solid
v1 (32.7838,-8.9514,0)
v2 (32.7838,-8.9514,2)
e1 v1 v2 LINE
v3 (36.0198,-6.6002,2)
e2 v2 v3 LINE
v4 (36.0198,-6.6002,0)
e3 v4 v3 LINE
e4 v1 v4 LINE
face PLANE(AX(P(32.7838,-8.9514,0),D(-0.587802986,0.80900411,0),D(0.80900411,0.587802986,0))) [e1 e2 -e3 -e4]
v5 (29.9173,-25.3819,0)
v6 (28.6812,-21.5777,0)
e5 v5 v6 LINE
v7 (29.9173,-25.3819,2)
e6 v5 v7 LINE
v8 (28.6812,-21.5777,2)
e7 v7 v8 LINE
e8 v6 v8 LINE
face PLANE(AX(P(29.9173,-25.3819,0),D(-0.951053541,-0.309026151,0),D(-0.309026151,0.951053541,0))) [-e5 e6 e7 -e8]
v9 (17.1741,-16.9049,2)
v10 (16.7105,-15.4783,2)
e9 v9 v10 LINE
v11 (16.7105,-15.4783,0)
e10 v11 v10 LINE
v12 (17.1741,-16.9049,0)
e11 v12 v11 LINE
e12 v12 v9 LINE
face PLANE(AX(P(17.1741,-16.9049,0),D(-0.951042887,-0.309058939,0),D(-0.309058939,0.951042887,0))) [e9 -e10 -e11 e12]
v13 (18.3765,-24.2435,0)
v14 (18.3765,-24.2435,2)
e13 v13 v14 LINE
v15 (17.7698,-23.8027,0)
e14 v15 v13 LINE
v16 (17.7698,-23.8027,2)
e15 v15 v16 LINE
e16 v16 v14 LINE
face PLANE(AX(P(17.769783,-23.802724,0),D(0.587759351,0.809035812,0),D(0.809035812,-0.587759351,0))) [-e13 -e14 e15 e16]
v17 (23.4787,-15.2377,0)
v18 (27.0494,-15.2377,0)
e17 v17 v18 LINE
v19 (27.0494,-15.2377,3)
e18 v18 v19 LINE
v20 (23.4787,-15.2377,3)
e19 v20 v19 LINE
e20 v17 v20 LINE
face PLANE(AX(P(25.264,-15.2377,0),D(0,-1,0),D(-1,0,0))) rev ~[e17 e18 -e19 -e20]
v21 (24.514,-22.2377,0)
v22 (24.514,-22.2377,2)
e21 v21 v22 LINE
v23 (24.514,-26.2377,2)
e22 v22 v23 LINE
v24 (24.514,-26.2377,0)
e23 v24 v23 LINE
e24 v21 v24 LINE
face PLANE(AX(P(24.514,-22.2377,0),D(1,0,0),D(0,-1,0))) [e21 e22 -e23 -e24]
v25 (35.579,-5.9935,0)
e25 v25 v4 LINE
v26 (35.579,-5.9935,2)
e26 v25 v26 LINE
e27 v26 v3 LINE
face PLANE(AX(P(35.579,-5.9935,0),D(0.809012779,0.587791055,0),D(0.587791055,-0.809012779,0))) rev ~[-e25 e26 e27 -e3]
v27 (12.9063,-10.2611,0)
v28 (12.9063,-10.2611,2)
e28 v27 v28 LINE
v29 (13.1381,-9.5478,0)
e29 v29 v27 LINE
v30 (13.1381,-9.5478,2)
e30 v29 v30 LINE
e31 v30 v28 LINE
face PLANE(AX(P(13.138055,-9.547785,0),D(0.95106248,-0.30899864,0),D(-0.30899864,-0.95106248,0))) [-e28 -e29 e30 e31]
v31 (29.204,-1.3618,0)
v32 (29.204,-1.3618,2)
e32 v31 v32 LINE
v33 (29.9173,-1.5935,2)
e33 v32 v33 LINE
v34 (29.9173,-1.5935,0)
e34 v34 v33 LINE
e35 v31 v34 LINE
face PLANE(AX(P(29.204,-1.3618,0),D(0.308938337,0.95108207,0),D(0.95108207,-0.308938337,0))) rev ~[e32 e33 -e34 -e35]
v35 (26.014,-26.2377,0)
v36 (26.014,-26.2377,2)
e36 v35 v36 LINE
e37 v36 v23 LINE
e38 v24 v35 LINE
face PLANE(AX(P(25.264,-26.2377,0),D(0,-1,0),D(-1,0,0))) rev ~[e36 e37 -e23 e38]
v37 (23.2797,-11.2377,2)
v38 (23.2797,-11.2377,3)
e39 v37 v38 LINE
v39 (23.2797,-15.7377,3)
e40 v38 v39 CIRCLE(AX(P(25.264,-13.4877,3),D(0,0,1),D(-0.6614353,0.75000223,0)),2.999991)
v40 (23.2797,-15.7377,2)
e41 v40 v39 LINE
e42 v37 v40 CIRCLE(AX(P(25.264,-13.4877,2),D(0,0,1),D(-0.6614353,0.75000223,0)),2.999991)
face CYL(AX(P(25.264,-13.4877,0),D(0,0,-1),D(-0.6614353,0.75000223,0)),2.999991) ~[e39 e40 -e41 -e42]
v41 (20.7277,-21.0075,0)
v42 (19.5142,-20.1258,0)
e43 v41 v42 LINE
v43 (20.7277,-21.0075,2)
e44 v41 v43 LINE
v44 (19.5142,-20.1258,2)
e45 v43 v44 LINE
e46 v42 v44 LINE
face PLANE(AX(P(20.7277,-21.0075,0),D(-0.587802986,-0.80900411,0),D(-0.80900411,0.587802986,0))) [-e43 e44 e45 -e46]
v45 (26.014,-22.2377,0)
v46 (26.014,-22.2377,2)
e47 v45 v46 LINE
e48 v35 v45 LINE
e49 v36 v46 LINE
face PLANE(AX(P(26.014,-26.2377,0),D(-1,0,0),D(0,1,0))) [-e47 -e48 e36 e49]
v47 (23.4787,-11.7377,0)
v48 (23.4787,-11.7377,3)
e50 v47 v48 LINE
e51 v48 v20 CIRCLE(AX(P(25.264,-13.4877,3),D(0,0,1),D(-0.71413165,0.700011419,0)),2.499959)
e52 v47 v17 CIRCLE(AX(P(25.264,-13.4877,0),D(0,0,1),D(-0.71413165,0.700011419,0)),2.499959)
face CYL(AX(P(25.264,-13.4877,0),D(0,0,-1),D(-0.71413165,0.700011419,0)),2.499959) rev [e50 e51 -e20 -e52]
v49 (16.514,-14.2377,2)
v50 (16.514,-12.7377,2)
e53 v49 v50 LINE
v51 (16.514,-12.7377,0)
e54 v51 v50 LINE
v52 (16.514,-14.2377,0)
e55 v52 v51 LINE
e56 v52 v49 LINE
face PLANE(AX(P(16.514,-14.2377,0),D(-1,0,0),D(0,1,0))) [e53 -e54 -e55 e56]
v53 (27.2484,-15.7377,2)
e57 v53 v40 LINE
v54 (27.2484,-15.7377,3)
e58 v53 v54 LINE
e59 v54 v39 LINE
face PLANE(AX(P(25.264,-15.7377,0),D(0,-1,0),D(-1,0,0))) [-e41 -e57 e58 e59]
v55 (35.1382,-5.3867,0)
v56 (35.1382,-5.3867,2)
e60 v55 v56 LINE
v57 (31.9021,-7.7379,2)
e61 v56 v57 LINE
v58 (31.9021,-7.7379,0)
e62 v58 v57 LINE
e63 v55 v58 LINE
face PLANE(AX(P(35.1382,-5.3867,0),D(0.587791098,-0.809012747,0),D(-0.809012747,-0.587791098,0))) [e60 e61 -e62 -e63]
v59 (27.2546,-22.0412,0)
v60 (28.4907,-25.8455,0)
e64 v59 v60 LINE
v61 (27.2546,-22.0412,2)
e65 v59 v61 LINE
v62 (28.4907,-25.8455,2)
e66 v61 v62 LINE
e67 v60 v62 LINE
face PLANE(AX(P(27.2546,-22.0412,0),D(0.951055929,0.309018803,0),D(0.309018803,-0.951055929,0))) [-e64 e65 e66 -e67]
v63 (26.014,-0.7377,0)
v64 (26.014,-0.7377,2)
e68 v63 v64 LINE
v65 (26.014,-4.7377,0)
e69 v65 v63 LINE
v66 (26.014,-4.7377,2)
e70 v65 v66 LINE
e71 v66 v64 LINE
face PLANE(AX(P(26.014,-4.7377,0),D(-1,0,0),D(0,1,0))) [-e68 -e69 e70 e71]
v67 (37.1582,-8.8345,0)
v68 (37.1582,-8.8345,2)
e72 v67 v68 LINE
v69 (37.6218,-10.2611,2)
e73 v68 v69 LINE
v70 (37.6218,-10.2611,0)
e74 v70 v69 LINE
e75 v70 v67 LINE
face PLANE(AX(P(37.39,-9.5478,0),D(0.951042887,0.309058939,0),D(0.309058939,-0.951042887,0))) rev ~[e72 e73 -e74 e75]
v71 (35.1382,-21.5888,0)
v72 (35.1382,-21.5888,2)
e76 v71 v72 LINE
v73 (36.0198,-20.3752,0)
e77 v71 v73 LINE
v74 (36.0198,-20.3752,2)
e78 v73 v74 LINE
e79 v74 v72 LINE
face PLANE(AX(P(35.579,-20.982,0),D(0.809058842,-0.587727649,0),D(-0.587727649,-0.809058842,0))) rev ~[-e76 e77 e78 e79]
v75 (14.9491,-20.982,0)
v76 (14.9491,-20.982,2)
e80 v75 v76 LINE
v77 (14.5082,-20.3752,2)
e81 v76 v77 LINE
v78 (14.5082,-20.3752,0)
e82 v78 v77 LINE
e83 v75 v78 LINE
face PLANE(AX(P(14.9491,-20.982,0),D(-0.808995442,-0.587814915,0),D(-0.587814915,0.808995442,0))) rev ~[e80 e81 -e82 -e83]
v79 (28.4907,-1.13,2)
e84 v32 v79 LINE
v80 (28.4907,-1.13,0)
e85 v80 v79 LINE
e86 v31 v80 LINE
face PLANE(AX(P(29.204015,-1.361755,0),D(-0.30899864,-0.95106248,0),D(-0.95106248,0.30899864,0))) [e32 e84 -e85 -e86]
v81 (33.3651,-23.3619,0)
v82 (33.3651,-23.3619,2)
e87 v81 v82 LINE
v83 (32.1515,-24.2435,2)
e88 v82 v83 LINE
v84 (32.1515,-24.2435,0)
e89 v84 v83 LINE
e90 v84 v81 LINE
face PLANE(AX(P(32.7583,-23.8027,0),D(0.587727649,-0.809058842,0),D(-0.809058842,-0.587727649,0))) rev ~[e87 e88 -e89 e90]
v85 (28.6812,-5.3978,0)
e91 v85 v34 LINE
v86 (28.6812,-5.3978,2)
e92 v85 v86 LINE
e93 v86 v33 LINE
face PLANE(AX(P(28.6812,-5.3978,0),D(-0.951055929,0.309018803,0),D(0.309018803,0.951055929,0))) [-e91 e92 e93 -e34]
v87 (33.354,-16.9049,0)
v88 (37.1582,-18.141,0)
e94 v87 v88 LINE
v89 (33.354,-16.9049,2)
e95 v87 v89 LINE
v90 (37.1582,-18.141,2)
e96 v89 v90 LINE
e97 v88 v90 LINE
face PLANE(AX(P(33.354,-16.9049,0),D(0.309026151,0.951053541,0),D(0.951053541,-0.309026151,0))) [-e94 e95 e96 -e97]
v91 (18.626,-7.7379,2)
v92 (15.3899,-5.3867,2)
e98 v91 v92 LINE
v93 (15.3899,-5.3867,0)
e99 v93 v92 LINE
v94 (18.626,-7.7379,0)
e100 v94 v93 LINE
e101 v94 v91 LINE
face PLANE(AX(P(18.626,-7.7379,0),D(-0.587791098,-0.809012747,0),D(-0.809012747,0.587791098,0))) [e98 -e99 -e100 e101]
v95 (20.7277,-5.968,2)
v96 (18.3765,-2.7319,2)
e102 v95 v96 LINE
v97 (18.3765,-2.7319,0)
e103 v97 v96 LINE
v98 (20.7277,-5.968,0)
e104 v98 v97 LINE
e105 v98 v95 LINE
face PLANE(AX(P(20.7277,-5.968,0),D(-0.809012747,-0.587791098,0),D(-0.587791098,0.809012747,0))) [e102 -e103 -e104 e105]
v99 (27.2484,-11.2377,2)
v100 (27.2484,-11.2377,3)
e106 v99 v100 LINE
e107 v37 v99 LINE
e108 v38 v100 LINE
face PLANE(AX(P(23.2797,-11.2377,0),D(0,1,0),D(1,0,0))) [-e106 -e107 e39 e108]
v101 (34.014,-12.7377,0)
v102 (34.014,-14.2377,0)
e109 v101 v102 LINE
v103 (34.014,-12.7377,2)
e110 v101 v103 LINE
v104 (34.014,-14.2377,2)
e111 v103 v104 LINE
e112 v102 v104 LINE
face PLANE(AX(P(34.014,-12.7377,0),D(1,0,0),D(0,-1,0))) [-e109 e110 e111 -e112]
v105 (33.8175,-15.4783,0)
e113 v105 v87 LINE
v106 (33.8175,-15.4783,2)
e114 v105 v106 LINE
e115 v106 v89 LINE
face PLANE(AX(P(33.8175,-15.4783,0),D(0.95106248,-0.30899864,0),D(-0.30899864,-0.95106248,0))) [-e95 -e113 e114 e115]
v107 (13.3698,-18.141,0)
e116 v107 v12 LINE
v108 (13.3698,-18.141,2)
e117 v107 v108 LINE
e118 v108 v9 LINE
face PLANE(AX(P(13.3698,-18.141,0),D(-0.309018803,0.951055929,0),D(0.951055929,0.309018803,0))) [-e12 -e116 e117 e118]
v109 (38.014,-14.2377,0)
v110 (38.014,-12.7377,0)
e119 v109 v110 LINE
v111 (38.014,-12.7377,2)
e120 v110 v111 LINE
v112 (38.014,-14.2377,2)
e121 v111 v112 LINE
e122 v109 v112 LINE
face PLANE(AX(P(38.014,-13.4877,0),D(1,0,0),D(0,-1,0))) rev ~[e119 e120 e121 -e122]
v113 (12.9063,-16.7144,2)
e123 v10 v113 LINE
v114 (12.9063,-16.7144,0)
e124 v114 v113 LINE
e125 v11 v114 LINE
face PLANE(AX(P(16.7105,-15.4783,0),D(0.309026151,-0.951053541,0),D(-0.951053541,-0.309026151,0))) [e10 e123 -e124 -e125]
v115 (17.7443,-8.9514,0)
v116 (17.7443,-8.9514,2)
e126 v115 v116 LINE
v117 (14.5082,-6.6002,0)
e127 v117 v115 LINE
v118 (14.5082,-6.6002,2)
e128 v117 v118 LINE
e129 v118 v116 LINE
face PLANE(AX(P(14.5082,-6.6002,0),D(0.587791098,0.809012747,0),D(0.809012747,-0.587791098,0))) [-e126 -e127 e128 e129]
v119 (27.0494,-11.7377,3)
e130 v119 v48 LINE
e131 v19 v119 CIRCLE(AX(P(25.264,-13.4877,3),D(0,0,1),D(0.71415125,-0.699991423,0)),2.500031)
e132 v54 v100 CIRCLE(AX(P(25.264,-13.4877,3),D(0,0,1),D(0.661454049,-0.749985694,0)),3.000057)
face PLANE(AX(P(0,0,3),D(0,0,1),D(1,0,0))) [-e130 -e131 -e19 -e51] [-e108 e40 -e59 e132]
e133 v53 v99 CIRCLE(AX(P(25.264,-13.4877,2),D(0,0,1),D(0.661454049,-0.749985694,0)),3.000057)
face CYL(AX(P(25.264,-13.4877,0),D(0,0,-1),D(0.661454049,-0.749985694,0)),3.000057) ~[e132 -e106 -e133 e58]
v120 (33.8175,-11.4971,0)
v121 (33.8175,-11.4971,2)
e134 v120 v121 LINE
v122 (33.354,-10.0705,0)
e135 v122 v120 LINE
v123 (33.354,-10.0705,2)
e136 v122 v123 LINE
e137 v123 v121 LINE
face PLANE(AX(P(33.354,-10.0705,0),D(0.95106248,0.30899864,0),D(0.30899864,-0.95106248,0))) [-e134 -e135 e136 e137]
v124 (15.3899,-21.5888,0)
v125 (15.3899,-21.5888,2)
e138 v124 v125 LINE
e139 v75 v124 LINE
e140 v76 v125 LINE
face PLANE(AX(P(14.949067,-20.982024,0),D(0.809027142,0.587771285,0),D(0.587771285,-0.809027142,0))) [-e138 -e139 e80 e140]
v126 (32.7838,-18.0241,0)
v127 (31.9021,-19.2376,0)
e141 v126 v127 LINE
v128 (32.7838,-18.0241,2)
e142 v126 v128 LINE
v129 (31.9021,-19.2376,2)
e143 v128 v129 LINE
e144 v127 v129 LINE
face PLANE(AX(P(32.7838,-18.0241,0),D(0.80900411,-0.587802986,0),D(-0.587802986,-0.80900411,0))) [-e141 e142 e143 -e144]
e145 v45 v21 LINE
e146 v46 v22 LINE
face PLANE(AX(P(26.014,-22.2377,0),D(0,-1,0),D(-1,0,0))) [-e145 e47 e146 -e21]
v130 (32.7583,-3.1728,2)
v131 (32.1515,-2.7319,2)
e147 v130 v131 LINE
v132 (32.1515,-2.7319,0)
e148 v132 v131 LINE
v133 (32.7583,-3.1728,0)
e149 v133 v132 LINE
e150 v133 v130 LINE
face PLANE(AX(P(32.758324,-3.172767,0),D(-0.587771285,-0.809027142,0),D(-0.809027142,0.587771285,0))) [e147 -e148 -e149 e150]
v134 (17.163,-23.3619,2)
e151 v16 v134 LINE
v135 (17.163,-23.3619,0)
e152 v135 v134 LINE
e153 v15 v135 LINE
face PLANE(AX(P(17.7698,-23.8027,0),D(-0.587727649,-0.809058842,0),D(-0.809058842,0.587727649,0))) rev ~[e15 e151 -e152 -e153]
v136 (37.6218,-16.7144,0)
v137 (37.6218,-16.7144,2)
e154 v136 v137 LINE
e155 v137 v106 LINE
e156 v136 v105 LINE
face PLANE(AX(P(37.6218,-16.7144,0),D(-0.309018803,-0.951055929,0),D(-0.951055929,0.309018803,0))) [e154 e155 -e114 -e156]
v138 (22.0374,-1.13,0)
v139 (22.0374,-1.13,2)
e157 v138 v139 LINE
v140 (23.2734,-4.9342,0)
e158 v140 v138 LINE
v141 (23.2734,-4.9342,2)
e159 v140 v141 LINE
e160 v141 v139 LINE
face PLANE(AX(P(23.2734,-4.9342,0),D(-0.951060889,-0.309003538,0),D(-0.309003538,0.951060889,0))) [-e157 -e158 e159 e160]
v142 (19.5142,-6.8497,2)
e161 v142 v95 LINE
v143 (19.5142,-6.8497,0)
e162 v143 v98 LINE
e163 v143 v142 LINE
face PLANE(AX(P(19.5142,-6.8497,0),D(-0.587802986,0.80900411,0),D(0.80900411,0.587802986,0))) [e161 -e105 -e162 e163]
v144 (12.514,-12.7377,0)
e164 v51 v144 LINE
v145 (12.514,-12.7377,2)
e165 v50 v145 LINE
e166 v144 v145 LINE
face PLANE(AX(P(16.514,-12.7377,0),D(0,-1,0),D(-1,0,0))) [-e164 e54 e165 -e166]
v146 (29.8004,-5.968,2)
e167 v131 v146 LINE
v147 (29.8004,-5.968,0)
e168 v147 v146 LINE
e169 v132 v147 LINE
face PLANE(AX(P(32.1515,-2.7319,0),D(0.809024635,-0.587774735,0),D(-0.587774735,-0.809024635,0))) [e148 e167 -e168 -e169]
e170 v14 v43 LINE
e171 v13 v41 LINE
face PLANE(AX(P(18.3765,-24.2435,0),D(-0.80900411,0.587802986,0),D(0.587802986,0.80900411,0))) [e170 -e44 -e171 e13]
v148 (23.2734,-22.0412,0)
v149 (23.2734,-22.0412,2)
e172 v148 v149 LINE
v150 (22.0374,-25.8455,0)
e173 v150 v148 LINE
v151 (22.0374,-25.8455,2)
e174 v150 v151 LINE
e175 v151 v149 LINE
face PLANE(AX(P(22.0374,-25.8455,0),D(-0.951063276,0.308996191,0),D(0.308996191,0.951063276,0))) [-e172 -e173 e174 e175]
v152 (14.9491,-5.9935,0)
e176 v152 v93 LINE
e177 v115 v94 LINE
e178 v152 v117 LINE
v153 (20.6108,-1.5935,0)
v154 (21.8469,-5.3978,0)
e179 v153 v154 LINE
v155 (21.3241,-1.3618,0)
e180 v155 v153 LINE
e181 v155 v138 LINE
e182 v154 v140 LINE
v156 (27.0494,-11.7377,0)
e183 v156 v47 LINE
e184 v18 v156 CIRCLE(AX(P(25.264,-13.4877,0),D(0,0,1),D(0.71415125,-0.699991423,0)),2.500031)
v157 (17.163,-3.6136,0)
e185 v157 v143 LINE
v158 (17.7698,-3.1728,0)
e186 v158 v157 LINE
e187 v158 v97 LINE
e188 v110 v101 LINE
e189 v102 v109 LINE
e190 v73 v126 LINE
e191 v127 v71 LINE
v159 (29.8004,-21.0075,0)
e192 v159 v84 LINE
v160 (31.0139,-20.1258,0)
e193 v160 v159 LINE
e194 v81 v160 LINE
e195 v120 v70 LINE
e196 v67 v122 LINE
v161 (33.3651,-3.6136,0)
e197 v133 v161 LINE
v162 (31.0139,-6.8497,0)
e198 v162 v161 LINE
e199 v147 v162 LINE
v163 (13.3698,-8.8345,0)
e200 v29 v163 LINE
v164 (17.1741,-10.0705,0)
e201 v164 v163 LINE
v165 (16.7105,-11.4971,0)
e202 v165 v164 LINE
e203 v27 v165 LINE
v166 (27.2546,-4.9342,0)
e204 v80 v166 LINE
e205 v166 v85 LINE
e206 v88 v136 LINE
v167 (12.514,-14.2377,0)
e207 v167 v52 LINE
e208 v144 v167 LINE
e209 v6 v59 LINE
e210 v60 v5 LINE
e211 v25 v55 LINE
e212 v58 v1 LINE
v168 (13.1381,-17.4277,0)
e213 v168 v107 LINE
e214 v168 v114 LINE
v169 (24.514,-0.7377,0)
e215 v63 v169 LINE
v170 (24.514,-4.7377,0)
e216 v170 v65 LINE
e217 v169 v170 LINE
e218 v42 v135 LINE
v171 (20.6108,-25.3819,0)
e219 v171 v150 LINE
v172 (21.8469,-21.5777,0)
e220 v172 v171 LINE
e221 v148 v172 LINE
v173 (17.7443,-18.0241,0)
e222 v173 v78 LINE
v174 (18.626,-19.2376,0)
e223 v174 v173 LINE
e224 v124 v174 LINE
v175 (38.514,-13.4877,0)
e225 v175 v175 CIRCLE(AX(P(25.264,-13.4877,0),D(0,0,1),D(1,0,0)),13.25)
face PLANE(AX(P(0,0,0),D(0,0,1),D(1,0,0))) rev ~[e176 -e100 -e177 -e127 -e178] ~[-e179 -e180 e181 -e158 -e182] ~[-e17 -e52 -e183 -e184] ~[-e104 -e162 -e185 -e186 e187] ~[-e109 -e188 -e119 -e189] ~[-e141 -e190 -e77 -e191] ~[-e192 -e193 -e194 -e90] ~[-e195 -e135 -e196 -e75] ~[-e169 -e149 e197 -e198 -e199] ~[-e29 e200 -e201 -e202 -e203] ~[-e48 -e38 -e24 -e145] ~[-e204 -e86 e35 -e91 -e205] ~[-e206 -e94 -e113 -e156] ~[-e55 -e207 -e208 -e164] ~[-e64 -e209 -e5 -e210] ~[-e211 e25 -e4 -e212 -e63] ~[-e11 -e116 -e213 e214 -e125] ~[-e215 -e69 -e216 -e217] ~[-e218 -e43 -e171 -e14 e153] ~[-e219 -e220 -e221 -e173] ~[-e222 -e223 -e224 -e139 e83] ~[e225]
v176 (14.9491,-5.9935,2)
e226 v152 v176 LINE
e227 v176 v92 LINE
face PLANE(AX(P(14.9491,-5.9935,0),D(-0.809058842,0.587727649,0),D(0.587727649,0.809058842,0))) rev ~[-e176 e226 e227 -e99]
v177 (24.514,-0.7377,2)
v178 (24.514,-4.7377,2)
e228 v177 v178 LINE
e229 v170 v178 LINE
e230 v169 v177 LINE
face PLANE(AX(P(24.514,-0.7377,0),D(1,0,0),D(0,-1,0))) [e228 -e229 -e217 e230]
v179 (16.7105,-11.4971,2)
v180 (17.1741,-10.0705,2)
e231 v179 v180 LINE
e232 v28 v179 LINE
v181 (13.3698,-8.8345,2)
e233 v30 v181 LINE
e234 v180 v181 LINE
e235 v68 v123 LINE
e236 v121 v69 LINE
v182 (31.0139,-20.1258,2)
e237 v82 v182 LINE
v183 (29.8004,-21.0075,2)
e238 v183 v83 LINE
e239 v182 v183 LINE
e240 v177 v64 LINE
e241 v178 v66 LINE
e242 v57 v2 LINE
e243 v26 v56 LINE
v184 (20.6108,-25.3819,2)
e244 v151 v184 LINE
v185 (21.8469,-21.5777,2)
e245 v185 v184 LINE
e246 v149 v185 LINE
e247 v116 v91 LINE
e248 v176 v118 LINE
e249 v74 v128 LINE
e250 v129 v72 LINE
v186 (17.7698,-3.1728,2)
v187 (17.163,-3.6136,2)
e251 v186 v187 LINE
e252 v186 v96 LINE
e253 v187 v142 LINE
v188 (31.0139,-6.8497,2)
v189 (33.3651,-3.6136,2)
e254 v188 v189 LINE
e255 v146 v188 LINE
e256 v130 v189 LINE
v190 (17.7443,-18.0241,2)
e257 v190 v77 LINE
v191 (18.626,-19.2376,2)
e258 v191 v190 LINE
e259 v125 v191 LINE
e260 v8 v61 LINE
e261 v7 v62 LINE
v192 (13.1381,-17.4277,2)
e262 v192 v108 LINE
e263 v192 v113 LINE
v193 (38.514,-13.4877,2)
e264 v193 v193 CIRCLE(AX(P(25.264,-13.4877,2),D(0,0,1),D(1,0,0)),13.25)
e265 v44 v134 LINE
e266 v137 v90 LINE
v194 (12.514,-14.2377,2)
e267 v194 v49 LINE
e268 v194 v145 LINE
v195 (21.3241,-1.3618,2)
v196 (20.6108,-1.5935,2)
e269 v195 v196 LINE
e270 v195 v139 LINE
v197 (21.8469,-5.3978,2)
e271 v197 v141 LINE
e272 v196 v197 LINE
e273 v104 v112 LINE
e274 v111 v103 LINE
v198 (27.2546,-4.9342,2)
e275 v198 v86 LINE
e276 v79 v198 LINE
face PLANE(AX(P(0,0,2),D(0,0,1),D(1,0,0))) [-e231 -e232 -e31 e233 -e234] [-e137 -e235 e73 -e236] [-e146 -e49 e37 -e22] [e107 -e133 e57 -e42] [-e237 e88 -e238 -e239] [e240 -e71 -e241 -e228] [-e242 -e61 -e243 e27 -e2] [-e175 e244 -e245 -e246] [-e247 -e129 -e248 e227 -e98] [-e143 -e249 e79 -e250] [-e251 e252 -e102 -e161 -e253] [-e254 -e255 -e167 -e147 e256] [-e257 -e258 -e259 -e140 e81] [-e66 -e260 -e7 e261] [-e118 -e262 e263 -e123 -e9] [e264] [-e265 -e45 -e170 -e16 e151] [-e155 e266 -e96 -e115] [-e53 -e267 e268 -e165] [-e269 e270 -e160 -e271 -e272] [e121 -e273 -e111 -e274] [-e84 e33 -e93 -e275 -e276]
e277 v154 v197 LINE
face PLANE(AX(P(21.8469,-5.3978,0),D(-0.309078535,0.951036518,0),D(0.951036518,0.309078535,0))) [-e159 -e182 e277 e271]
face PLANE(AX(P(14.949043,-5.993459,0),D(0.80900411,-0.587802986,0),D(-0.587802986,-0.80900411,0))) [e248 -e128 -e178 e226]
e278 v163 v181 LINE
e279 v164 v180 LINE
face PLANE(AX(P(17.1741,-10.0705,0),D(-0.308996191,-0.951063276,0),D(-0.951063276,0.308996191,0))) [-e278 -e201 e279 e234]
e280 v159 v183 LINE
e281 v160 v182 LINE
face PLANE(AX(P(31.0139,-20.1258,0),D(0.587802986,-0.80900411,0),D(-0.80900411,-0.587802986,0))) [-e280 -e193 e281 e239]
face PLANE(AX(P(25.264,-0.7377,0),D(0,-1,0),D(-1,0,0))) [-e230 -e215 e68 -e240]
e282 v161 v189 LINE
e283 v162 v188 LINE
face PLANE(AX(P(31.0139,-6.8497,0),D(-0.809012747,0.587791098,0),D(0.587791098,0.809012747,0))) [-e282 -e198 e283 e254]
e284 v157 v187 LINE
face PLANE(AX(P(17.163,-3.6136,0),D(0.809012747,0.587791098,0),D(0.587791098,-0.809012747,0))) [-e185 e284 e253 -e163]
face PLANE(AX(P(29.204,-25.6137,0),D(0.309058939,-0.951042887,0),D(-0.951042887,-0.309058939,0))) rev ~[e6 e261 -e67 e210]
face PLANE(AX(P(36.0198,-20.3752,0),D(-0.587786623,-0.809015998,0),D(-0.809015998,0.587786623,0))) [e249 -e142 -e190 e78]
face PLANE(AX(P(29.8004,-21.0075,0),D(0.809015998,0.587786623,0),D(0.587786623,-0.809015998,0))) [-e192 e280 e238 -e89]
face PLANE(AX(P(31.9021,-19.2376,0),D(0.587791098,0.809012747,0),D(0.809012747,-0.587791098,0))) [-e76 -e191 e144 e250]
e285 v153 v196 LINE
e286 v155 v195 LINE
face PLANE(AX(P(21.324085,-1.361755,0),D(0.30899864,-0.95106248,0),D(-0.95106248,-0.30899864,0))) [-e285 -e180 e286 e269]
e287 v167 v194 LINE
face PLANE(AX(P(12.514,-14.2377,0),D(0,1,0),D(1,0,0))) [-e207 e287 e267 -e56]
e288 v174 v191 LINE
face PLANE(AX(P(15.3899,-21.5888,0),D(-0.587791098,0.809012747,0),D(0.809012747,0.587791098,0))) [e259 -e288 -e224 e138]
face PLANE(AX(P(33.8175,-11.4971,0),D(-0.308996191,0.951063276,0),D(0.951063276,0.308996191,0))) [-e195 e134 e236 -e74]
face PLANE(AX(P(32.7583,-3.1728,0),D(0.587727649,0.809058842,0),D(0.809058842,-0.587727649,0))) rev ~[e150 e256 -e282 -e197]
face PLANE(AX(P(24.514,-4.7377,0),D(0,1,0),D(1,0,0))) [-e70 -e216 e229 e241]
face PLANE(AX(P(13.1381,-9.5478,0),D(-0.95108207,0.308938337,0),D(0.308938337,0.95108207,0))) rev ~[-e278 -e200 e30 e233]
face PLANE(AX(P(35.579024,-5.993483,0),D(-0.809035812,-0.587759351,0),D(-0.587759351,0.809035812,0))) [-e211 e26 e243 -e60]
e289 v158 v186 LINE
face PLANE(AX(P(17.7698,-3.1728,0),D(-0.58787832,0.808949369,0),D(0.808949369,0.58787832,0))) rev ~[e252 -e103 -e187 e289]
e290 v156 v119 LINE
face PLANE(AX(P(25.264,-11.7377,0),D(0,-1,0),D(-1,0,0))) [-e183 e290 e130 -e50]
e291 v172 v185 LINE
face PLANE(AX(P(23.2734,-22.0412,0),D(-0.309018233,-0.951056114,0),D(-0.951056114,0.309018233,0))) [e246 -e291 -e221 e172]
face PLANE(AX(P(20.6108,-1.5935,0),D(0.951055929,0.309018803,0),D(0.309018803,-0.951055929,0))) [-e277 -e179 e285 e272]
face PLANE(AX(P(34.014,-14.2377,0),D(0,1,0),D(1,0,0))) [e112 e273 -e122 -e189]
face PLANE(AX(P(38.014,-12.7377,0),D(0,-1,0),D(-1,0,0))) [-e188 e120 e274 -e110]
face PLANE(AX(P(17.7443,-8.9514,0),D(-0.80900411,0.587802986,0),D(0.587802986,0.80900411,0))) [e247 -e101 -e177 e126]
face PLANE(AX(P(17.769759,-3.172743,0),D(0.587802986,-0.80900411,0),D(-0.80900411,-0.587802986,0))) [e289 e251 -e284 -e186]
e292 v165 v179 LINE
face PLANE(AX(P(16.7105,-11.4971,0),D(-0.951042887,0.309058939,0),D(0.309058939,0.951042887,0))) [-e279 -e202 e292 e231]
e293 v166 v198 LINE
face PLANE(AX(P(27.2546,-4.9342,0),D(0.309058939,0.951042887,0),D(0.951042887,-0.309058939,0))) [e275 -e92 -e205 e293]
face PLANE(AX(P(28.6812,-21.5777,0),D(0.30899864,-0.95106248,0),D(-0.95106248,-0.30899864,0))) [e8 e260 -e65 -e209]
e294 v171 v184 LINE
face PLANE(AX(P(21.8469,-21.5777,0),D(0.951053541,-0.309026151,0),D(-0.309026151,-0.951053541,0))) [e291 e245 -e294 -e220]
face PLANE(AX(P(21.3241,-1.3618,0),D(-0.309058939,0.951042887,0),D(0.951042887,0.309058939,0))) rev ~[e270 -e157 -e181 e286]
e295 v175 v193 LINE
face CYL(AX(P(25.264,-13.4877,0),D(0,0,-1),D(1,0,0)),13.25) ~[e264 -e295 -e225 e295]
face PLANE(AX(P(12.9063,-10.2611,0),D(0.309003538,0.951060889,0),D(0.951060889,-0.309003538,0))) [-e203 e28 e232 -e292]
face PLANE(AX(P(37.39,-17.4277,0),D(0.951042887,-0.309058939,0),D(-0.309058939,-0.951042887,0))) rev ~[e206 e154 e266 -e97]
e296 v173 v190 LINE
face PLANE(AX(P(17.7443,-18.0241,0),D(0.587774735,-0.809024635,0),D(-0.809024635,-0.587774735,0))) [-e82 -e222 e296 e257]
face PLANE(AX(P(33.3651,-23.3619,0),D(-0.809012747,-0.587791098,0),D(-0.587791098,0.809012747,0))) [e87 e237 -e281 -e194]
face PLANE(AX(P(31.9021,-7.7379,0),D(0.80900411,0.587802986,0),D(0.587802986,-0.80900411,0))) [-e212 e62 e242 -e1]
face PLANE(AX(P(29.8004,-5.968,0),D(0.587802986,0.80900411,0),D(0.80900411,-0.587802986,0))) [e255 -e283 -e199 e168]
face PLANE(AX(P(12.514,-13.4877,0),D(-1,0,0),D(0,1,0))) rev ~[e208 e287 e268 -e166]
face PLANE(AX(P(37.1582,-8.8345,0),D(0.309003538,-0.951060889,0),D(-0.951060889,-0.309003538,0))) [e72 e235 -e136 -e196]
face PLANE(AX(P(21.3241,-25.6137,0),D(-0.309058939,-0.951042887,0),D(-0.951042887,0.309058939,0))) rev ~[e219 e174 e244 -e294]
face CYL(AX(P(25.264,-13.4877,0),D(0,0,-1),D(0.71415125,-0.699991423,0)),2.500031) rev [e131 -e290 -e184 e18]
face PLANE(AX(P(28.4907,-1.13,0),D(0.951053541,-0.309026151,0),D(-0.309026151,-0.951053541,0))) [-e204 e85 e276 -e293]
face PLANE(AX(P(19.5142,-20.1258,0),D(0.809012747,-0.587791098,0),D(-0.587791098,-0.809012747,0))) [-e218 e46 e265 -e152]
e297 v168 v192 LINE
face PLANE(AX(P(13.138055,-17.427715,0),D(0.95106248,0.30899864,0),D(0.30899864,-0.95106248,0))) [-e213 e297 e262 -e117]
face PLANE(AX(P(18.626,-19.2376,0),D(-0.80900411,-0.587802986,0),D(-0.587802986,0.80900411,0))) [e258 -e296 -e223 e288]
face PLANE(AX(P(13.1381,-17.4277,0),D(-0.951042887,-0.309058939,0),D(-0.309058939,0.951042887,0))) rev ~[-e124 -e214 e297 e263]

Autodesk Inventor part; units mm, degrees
ref_plane "YZ Plane" through (0, 0, 0) normal (1, 0, 0) x (0, 1, 0)
ref_plane "XZ Plane" through (0, 0, 0) normal (0, 1, 0) x (-1, 0, 0)
ref_plane "XY Plane" through (0, 0, 0) normal (0, 0, 1) x (1, 0, 0)
sketch "Эскиз1" plane through (0, 0, 0) normal (0, 0, 1) x (1, 0, 0)
  circle A0 centre (25.264, -13.4877) radius 13.25
  line L0 (25.264, -11.7377) -> (27.0494, -11.7377)
  line L1 (27.0494, -11.7377) -> (23.4787, -11.7377)
  line L2 (25.264, -15.2377) -> (23.4787, -15.2377)
  line L3 (23.4787, -15.2377) -> (27.0494, -15.2377)
  arc A1 (23.4787, -11.7377) -> (23.4787, -15.2377) centre (25.264, -13.4877) ccw
  arc A2 (27.0494, -15.2377) -> (27.0494, -11.7377) centre (25.264, -13.4877) ccw
  line L4 (25.264, -11.2377) -> (27.2484, -11.2377)
  line L5 (23.2797, -11.2377) -> (27.2484, -11.2377)
  line L6 (25.264, -15.7377) -> (27.2484, -15.7377)
  line L7 (27.2484, -15.7377) -> (23.2797, -15.7377)
  arc A3 (27.2484, -15.7377) -> (27.2484, -11.2377) centre (25.264, -13.4877) ccw
  arc A4 (23.2797, -11.2377) -> (23.2797, -15.7377) centre (25.264, -13.4877) ccw
  line L8 (25.264, -0.7377) -> (26.014, -0.7377)
  line L9 (26.014, -0.7377) -> (24.514, -0.7377)
  line L10 (24.514, -0.7377) -> (24.514, -4.7377)
  line L11 (24.514, -4.7377) -> (26.014, -4.7377)
  line L12 (26.014, -4.7377) -> (26.014, -0.7377)
  line L13 (21.8469, -5.3978) -> (23.2734, -4.9342)
  line L14 (23.2734, -4.9342) -> (22.0374, -1.13)
  line L15 (21.3241, -1.3618) -> (22.0374, -1.13)
  line L16 (22.0374, -1.13) -> (20.6108, -1.5935)
  line L17 (20.6108, -1.5935) -> (21.8469, -5.3978)
  line L18 (19.5142, -6.8497) -> (20.7277, -5.968)
  line L19 (20.7277, -5.968) -> (18.3765, -2.7319)
  line L20 (17.7698, -3.1728) -> (18.3765, -2.7319)
  line L21 (18.3765, -2.7319) -> (17.163, -3.6136)
  line L22 (17.163, -3.6136) -> (19.5142, -6.8497)
  line L23 (17.7443, -8.9514) -> (18.626, -7.7379)
  line L24 (18.626, -7.7379) -> (15.3899, -5.3867)
  line L25 (14.9491, -5.9935) -> (15.3899, -5.3867)
  line L26 (15.3899, -5.3867) -> (14.5082, -6.6002)
  line L27 (14.5082, -6.6002) -> (17.7443, -8.9514)
  line L28 (16.7105, -11.4971) -> (17.1741, -10.0705)
  line L29 (17.1741, -10.0705) -> (13.3698, -8.8345)
  line L30 (13.1381, -9.5478) -> (13.3698, -8.8345)
  line L31 (13.3698, -8.8345) -> (12.9063, -10.2611)
  line L32 (12.9063, -10.2611) -> (16.7105, -11.4971)
  line L33 (16.514, -14.2377) -> (16.514, -12.7377)
  line L34 (16.514, -12.7377) -> (12.514, -12.7377)
  line L35 (12.514, -13.4877) -> (12.514, -12.7377)
  line L36 (12.514, -12.7377) -> (12.514, -14.2377)
  line L37 (12.514, -14.2377) -> (16.514, -14.2377)
  line L38 (17.1741, -16.9049) -> (16.7105, -15.4783)
  line L39 (16.7105, -15.4783) -> (12.9063, -16.7144)
  line L40 (13.1381, -17.4277) -> (12.9063, -16.7144)
  line L41 (12.9063, -16.7144) -> (13.3698, -18.141)
  line L42 (13.3698, -18.141) -> (17.1741, -16.9049)
  line L43 (18.626, -19.2376) -> (17.7443, -18.0241)
  line L44 (17.7443, -18.0241) -> (14.5082, -20.3752)
  line L45 (14.9491, -20.982) -> (14.5082, -20.3752)
  line L46 (14.5082, -20.3752) -> (15.3899, -21.5888)
  line L47 (15.3899, -21.5888) -> (18.626, -19.2376)
  line L48 (20.7277, -21.0075) -> (19.5142, -20.1258)
  line L49 (19.5142, -20.1258) -> (17.163, -23.3619)
  line L50 (17.7698, -23.8027) -> (17.163, -23.3619)
  line L51 (17.163, -23.3619) -> (18.3765, -24.2435)
  line L52 (18.3765, -24.2435) -> (20.7277, -21.0075)
  line L53 (23.2734, -22.0412) -> (21.8469, -21.5777)
  line L54 (21.8469, -21.5777) -> (20.6108, -25.3819)
  line L55 (21.3241, -25.6137) -> (20.6108, -25.3819)
  line L56 (20.6108, -25.3819) -> (22.0374, -25.8455)
  line L57 (22.0374, -25.8455) -> (23.2734, -22.0412)
  line L58 (26.014, -22.2377) -> (24.514, -22.2377)
  line L59 (24.514, -22.2377) -> (24.514, -26.2377)
  line L60 (25.264, -26.2377) -> (24.514, -26.2377)
  line L61 (24.514, -26.2377) -> (26.014, -26.2377)
  line L62 (26.014, -26.2377) -> (26.014, -22.2377)
  line L63 (28.6812, -21.5777) -> (27.2546, -22.0412)
  line L64 (27.2546, -22.0412) -> (28.4907, -25.8455)
  line L65 (29.204, -25.6137) -> (28.4907, -25.8455)
  line L66 (28.4907, -25.8455) -> (29.9173, -25.3819)
  line L67 (29.9173, -25.3819) -> (28.6812, -21.5777)
  line L68 (31.0139, -20.1258) -> (29.8004, -21.0075)
  line L69 (29.8004, -21.0075) -> (32.1515, -24.2435)
  line L70 (32.7583, -23.8027) -> (32.1515, -24.2435)
  line L71 (32.1515, -24.2435) -> (33.3651, -23.3619)
  line L72 (33.3651, -23.3619) -> (31.0139, -20.1258)
  line L73 (32.7838, -18.0241) -> (31.9021, -19.2376)
  line L74 (31.9021, -19.2376) -> (35.1382, -21.5888)
  line L75 (35.579, -20.982) -> (35.1382, -21.5888)
  line L76 (35.1382, -21.5888) -> (36.0198, -20.3752)
  line L77 (36.0198, -20.3752) -> (32.7838, -18.0241)
  line L78 (33.8175, -15.4783) -> (33.354, -16.9049)
  line L79 (33.354, -16.9049) -> (37.1582, -18.141)
  line L80 (37.39, -17.4277) -> (37.1582, -18.141)
  line L81 (37.1582, -18.141) -> (37.6218, -16.7144)
  line L82 (37.6218, -16.7144) -> (33.8175, -15.4783)
  line L83 (34.014, -12.7377) -> (34.014, -14.2377)
  line L84 (34.014, -14.2377) -> (38.014, -14.2377)
  line L85 (38.014, -13.4877) -> (38.014, -14.2377)
  line L86 (38.014, -14.2377) -> (38.014, -12.7377)
  line L87 (38.014, -12.7377) -> (34.014, -12.7377)
  line L88 (33.354, -10.0705) -> (33.8175, -11.4971)
  line L89 (33.8175, -11.4971) -> (37.6218, -10.2611)
  line L90 (37.39, -9.5478) -> (37.6218, -10.2611)
  line L91 (37.6218, -10.2611) -> (37.1582, -8.8345)
  line L92 (37.1582, -8.8345) -> (33.354, -10.0705)
  line L93 (31.9021, -7.7379) -> (32.7838, -8.9514)
  line L94 (32.7838, -8.9514) -> (36.0198, -6.6002)
  line L95 (35.579, -5.9935) -> (36.0198, -6.6002)
  line L96 (36.0198, -6.6002) -> (35.1382, -5.3867)
  line L97 (35.1382, -5.3867) -> (31.9021, -7.7379)
  line L98 (29.8004, -5.968) -> (31.0139, -6.8497)
  line L99 (31.0139, -6.8497) -> (33.3651, -3.6136)
  line L100 (32.7583, -3.1728) -> (33.3651, -3.6136)
  line L101 (33.3651, -3.6136) -> (32.1515, -2.7319)
  line L102 (32.1515, -2.7319) -> (29.8004, -5.968)
  line L103 (27.2546, -4.9342) -> (28.6812, -5.3978)
  line L104 (28.6812, -5.3978) -> (29.9173, -1.5935)
  line L105 (29.204, -1.3618) -> (29.9173, -1.5935)
  line L106 (29.9173, -1.5935) -> (28.4907, -1.13)
  line L107 (28.4907, -1.13) -> (27.2546, -4.9342)
  point P0 (0, 0)
  dimension "d9" = 0.75
  dimension "d10" = 1.5
  dimension "d11" = 4
  dimension "d12" = 1.5
  dimension "d15" = 360
extrude "Выдавливание1" add sketch "Эскиз1" along normal blind 2 contours A0
extrude "Выдавливание2" add sketch "Эскиз1" along normal blind 3 contours L4 A3 L6 L7 A4 L5
properties part number "ХЗ контроллер там блин"
